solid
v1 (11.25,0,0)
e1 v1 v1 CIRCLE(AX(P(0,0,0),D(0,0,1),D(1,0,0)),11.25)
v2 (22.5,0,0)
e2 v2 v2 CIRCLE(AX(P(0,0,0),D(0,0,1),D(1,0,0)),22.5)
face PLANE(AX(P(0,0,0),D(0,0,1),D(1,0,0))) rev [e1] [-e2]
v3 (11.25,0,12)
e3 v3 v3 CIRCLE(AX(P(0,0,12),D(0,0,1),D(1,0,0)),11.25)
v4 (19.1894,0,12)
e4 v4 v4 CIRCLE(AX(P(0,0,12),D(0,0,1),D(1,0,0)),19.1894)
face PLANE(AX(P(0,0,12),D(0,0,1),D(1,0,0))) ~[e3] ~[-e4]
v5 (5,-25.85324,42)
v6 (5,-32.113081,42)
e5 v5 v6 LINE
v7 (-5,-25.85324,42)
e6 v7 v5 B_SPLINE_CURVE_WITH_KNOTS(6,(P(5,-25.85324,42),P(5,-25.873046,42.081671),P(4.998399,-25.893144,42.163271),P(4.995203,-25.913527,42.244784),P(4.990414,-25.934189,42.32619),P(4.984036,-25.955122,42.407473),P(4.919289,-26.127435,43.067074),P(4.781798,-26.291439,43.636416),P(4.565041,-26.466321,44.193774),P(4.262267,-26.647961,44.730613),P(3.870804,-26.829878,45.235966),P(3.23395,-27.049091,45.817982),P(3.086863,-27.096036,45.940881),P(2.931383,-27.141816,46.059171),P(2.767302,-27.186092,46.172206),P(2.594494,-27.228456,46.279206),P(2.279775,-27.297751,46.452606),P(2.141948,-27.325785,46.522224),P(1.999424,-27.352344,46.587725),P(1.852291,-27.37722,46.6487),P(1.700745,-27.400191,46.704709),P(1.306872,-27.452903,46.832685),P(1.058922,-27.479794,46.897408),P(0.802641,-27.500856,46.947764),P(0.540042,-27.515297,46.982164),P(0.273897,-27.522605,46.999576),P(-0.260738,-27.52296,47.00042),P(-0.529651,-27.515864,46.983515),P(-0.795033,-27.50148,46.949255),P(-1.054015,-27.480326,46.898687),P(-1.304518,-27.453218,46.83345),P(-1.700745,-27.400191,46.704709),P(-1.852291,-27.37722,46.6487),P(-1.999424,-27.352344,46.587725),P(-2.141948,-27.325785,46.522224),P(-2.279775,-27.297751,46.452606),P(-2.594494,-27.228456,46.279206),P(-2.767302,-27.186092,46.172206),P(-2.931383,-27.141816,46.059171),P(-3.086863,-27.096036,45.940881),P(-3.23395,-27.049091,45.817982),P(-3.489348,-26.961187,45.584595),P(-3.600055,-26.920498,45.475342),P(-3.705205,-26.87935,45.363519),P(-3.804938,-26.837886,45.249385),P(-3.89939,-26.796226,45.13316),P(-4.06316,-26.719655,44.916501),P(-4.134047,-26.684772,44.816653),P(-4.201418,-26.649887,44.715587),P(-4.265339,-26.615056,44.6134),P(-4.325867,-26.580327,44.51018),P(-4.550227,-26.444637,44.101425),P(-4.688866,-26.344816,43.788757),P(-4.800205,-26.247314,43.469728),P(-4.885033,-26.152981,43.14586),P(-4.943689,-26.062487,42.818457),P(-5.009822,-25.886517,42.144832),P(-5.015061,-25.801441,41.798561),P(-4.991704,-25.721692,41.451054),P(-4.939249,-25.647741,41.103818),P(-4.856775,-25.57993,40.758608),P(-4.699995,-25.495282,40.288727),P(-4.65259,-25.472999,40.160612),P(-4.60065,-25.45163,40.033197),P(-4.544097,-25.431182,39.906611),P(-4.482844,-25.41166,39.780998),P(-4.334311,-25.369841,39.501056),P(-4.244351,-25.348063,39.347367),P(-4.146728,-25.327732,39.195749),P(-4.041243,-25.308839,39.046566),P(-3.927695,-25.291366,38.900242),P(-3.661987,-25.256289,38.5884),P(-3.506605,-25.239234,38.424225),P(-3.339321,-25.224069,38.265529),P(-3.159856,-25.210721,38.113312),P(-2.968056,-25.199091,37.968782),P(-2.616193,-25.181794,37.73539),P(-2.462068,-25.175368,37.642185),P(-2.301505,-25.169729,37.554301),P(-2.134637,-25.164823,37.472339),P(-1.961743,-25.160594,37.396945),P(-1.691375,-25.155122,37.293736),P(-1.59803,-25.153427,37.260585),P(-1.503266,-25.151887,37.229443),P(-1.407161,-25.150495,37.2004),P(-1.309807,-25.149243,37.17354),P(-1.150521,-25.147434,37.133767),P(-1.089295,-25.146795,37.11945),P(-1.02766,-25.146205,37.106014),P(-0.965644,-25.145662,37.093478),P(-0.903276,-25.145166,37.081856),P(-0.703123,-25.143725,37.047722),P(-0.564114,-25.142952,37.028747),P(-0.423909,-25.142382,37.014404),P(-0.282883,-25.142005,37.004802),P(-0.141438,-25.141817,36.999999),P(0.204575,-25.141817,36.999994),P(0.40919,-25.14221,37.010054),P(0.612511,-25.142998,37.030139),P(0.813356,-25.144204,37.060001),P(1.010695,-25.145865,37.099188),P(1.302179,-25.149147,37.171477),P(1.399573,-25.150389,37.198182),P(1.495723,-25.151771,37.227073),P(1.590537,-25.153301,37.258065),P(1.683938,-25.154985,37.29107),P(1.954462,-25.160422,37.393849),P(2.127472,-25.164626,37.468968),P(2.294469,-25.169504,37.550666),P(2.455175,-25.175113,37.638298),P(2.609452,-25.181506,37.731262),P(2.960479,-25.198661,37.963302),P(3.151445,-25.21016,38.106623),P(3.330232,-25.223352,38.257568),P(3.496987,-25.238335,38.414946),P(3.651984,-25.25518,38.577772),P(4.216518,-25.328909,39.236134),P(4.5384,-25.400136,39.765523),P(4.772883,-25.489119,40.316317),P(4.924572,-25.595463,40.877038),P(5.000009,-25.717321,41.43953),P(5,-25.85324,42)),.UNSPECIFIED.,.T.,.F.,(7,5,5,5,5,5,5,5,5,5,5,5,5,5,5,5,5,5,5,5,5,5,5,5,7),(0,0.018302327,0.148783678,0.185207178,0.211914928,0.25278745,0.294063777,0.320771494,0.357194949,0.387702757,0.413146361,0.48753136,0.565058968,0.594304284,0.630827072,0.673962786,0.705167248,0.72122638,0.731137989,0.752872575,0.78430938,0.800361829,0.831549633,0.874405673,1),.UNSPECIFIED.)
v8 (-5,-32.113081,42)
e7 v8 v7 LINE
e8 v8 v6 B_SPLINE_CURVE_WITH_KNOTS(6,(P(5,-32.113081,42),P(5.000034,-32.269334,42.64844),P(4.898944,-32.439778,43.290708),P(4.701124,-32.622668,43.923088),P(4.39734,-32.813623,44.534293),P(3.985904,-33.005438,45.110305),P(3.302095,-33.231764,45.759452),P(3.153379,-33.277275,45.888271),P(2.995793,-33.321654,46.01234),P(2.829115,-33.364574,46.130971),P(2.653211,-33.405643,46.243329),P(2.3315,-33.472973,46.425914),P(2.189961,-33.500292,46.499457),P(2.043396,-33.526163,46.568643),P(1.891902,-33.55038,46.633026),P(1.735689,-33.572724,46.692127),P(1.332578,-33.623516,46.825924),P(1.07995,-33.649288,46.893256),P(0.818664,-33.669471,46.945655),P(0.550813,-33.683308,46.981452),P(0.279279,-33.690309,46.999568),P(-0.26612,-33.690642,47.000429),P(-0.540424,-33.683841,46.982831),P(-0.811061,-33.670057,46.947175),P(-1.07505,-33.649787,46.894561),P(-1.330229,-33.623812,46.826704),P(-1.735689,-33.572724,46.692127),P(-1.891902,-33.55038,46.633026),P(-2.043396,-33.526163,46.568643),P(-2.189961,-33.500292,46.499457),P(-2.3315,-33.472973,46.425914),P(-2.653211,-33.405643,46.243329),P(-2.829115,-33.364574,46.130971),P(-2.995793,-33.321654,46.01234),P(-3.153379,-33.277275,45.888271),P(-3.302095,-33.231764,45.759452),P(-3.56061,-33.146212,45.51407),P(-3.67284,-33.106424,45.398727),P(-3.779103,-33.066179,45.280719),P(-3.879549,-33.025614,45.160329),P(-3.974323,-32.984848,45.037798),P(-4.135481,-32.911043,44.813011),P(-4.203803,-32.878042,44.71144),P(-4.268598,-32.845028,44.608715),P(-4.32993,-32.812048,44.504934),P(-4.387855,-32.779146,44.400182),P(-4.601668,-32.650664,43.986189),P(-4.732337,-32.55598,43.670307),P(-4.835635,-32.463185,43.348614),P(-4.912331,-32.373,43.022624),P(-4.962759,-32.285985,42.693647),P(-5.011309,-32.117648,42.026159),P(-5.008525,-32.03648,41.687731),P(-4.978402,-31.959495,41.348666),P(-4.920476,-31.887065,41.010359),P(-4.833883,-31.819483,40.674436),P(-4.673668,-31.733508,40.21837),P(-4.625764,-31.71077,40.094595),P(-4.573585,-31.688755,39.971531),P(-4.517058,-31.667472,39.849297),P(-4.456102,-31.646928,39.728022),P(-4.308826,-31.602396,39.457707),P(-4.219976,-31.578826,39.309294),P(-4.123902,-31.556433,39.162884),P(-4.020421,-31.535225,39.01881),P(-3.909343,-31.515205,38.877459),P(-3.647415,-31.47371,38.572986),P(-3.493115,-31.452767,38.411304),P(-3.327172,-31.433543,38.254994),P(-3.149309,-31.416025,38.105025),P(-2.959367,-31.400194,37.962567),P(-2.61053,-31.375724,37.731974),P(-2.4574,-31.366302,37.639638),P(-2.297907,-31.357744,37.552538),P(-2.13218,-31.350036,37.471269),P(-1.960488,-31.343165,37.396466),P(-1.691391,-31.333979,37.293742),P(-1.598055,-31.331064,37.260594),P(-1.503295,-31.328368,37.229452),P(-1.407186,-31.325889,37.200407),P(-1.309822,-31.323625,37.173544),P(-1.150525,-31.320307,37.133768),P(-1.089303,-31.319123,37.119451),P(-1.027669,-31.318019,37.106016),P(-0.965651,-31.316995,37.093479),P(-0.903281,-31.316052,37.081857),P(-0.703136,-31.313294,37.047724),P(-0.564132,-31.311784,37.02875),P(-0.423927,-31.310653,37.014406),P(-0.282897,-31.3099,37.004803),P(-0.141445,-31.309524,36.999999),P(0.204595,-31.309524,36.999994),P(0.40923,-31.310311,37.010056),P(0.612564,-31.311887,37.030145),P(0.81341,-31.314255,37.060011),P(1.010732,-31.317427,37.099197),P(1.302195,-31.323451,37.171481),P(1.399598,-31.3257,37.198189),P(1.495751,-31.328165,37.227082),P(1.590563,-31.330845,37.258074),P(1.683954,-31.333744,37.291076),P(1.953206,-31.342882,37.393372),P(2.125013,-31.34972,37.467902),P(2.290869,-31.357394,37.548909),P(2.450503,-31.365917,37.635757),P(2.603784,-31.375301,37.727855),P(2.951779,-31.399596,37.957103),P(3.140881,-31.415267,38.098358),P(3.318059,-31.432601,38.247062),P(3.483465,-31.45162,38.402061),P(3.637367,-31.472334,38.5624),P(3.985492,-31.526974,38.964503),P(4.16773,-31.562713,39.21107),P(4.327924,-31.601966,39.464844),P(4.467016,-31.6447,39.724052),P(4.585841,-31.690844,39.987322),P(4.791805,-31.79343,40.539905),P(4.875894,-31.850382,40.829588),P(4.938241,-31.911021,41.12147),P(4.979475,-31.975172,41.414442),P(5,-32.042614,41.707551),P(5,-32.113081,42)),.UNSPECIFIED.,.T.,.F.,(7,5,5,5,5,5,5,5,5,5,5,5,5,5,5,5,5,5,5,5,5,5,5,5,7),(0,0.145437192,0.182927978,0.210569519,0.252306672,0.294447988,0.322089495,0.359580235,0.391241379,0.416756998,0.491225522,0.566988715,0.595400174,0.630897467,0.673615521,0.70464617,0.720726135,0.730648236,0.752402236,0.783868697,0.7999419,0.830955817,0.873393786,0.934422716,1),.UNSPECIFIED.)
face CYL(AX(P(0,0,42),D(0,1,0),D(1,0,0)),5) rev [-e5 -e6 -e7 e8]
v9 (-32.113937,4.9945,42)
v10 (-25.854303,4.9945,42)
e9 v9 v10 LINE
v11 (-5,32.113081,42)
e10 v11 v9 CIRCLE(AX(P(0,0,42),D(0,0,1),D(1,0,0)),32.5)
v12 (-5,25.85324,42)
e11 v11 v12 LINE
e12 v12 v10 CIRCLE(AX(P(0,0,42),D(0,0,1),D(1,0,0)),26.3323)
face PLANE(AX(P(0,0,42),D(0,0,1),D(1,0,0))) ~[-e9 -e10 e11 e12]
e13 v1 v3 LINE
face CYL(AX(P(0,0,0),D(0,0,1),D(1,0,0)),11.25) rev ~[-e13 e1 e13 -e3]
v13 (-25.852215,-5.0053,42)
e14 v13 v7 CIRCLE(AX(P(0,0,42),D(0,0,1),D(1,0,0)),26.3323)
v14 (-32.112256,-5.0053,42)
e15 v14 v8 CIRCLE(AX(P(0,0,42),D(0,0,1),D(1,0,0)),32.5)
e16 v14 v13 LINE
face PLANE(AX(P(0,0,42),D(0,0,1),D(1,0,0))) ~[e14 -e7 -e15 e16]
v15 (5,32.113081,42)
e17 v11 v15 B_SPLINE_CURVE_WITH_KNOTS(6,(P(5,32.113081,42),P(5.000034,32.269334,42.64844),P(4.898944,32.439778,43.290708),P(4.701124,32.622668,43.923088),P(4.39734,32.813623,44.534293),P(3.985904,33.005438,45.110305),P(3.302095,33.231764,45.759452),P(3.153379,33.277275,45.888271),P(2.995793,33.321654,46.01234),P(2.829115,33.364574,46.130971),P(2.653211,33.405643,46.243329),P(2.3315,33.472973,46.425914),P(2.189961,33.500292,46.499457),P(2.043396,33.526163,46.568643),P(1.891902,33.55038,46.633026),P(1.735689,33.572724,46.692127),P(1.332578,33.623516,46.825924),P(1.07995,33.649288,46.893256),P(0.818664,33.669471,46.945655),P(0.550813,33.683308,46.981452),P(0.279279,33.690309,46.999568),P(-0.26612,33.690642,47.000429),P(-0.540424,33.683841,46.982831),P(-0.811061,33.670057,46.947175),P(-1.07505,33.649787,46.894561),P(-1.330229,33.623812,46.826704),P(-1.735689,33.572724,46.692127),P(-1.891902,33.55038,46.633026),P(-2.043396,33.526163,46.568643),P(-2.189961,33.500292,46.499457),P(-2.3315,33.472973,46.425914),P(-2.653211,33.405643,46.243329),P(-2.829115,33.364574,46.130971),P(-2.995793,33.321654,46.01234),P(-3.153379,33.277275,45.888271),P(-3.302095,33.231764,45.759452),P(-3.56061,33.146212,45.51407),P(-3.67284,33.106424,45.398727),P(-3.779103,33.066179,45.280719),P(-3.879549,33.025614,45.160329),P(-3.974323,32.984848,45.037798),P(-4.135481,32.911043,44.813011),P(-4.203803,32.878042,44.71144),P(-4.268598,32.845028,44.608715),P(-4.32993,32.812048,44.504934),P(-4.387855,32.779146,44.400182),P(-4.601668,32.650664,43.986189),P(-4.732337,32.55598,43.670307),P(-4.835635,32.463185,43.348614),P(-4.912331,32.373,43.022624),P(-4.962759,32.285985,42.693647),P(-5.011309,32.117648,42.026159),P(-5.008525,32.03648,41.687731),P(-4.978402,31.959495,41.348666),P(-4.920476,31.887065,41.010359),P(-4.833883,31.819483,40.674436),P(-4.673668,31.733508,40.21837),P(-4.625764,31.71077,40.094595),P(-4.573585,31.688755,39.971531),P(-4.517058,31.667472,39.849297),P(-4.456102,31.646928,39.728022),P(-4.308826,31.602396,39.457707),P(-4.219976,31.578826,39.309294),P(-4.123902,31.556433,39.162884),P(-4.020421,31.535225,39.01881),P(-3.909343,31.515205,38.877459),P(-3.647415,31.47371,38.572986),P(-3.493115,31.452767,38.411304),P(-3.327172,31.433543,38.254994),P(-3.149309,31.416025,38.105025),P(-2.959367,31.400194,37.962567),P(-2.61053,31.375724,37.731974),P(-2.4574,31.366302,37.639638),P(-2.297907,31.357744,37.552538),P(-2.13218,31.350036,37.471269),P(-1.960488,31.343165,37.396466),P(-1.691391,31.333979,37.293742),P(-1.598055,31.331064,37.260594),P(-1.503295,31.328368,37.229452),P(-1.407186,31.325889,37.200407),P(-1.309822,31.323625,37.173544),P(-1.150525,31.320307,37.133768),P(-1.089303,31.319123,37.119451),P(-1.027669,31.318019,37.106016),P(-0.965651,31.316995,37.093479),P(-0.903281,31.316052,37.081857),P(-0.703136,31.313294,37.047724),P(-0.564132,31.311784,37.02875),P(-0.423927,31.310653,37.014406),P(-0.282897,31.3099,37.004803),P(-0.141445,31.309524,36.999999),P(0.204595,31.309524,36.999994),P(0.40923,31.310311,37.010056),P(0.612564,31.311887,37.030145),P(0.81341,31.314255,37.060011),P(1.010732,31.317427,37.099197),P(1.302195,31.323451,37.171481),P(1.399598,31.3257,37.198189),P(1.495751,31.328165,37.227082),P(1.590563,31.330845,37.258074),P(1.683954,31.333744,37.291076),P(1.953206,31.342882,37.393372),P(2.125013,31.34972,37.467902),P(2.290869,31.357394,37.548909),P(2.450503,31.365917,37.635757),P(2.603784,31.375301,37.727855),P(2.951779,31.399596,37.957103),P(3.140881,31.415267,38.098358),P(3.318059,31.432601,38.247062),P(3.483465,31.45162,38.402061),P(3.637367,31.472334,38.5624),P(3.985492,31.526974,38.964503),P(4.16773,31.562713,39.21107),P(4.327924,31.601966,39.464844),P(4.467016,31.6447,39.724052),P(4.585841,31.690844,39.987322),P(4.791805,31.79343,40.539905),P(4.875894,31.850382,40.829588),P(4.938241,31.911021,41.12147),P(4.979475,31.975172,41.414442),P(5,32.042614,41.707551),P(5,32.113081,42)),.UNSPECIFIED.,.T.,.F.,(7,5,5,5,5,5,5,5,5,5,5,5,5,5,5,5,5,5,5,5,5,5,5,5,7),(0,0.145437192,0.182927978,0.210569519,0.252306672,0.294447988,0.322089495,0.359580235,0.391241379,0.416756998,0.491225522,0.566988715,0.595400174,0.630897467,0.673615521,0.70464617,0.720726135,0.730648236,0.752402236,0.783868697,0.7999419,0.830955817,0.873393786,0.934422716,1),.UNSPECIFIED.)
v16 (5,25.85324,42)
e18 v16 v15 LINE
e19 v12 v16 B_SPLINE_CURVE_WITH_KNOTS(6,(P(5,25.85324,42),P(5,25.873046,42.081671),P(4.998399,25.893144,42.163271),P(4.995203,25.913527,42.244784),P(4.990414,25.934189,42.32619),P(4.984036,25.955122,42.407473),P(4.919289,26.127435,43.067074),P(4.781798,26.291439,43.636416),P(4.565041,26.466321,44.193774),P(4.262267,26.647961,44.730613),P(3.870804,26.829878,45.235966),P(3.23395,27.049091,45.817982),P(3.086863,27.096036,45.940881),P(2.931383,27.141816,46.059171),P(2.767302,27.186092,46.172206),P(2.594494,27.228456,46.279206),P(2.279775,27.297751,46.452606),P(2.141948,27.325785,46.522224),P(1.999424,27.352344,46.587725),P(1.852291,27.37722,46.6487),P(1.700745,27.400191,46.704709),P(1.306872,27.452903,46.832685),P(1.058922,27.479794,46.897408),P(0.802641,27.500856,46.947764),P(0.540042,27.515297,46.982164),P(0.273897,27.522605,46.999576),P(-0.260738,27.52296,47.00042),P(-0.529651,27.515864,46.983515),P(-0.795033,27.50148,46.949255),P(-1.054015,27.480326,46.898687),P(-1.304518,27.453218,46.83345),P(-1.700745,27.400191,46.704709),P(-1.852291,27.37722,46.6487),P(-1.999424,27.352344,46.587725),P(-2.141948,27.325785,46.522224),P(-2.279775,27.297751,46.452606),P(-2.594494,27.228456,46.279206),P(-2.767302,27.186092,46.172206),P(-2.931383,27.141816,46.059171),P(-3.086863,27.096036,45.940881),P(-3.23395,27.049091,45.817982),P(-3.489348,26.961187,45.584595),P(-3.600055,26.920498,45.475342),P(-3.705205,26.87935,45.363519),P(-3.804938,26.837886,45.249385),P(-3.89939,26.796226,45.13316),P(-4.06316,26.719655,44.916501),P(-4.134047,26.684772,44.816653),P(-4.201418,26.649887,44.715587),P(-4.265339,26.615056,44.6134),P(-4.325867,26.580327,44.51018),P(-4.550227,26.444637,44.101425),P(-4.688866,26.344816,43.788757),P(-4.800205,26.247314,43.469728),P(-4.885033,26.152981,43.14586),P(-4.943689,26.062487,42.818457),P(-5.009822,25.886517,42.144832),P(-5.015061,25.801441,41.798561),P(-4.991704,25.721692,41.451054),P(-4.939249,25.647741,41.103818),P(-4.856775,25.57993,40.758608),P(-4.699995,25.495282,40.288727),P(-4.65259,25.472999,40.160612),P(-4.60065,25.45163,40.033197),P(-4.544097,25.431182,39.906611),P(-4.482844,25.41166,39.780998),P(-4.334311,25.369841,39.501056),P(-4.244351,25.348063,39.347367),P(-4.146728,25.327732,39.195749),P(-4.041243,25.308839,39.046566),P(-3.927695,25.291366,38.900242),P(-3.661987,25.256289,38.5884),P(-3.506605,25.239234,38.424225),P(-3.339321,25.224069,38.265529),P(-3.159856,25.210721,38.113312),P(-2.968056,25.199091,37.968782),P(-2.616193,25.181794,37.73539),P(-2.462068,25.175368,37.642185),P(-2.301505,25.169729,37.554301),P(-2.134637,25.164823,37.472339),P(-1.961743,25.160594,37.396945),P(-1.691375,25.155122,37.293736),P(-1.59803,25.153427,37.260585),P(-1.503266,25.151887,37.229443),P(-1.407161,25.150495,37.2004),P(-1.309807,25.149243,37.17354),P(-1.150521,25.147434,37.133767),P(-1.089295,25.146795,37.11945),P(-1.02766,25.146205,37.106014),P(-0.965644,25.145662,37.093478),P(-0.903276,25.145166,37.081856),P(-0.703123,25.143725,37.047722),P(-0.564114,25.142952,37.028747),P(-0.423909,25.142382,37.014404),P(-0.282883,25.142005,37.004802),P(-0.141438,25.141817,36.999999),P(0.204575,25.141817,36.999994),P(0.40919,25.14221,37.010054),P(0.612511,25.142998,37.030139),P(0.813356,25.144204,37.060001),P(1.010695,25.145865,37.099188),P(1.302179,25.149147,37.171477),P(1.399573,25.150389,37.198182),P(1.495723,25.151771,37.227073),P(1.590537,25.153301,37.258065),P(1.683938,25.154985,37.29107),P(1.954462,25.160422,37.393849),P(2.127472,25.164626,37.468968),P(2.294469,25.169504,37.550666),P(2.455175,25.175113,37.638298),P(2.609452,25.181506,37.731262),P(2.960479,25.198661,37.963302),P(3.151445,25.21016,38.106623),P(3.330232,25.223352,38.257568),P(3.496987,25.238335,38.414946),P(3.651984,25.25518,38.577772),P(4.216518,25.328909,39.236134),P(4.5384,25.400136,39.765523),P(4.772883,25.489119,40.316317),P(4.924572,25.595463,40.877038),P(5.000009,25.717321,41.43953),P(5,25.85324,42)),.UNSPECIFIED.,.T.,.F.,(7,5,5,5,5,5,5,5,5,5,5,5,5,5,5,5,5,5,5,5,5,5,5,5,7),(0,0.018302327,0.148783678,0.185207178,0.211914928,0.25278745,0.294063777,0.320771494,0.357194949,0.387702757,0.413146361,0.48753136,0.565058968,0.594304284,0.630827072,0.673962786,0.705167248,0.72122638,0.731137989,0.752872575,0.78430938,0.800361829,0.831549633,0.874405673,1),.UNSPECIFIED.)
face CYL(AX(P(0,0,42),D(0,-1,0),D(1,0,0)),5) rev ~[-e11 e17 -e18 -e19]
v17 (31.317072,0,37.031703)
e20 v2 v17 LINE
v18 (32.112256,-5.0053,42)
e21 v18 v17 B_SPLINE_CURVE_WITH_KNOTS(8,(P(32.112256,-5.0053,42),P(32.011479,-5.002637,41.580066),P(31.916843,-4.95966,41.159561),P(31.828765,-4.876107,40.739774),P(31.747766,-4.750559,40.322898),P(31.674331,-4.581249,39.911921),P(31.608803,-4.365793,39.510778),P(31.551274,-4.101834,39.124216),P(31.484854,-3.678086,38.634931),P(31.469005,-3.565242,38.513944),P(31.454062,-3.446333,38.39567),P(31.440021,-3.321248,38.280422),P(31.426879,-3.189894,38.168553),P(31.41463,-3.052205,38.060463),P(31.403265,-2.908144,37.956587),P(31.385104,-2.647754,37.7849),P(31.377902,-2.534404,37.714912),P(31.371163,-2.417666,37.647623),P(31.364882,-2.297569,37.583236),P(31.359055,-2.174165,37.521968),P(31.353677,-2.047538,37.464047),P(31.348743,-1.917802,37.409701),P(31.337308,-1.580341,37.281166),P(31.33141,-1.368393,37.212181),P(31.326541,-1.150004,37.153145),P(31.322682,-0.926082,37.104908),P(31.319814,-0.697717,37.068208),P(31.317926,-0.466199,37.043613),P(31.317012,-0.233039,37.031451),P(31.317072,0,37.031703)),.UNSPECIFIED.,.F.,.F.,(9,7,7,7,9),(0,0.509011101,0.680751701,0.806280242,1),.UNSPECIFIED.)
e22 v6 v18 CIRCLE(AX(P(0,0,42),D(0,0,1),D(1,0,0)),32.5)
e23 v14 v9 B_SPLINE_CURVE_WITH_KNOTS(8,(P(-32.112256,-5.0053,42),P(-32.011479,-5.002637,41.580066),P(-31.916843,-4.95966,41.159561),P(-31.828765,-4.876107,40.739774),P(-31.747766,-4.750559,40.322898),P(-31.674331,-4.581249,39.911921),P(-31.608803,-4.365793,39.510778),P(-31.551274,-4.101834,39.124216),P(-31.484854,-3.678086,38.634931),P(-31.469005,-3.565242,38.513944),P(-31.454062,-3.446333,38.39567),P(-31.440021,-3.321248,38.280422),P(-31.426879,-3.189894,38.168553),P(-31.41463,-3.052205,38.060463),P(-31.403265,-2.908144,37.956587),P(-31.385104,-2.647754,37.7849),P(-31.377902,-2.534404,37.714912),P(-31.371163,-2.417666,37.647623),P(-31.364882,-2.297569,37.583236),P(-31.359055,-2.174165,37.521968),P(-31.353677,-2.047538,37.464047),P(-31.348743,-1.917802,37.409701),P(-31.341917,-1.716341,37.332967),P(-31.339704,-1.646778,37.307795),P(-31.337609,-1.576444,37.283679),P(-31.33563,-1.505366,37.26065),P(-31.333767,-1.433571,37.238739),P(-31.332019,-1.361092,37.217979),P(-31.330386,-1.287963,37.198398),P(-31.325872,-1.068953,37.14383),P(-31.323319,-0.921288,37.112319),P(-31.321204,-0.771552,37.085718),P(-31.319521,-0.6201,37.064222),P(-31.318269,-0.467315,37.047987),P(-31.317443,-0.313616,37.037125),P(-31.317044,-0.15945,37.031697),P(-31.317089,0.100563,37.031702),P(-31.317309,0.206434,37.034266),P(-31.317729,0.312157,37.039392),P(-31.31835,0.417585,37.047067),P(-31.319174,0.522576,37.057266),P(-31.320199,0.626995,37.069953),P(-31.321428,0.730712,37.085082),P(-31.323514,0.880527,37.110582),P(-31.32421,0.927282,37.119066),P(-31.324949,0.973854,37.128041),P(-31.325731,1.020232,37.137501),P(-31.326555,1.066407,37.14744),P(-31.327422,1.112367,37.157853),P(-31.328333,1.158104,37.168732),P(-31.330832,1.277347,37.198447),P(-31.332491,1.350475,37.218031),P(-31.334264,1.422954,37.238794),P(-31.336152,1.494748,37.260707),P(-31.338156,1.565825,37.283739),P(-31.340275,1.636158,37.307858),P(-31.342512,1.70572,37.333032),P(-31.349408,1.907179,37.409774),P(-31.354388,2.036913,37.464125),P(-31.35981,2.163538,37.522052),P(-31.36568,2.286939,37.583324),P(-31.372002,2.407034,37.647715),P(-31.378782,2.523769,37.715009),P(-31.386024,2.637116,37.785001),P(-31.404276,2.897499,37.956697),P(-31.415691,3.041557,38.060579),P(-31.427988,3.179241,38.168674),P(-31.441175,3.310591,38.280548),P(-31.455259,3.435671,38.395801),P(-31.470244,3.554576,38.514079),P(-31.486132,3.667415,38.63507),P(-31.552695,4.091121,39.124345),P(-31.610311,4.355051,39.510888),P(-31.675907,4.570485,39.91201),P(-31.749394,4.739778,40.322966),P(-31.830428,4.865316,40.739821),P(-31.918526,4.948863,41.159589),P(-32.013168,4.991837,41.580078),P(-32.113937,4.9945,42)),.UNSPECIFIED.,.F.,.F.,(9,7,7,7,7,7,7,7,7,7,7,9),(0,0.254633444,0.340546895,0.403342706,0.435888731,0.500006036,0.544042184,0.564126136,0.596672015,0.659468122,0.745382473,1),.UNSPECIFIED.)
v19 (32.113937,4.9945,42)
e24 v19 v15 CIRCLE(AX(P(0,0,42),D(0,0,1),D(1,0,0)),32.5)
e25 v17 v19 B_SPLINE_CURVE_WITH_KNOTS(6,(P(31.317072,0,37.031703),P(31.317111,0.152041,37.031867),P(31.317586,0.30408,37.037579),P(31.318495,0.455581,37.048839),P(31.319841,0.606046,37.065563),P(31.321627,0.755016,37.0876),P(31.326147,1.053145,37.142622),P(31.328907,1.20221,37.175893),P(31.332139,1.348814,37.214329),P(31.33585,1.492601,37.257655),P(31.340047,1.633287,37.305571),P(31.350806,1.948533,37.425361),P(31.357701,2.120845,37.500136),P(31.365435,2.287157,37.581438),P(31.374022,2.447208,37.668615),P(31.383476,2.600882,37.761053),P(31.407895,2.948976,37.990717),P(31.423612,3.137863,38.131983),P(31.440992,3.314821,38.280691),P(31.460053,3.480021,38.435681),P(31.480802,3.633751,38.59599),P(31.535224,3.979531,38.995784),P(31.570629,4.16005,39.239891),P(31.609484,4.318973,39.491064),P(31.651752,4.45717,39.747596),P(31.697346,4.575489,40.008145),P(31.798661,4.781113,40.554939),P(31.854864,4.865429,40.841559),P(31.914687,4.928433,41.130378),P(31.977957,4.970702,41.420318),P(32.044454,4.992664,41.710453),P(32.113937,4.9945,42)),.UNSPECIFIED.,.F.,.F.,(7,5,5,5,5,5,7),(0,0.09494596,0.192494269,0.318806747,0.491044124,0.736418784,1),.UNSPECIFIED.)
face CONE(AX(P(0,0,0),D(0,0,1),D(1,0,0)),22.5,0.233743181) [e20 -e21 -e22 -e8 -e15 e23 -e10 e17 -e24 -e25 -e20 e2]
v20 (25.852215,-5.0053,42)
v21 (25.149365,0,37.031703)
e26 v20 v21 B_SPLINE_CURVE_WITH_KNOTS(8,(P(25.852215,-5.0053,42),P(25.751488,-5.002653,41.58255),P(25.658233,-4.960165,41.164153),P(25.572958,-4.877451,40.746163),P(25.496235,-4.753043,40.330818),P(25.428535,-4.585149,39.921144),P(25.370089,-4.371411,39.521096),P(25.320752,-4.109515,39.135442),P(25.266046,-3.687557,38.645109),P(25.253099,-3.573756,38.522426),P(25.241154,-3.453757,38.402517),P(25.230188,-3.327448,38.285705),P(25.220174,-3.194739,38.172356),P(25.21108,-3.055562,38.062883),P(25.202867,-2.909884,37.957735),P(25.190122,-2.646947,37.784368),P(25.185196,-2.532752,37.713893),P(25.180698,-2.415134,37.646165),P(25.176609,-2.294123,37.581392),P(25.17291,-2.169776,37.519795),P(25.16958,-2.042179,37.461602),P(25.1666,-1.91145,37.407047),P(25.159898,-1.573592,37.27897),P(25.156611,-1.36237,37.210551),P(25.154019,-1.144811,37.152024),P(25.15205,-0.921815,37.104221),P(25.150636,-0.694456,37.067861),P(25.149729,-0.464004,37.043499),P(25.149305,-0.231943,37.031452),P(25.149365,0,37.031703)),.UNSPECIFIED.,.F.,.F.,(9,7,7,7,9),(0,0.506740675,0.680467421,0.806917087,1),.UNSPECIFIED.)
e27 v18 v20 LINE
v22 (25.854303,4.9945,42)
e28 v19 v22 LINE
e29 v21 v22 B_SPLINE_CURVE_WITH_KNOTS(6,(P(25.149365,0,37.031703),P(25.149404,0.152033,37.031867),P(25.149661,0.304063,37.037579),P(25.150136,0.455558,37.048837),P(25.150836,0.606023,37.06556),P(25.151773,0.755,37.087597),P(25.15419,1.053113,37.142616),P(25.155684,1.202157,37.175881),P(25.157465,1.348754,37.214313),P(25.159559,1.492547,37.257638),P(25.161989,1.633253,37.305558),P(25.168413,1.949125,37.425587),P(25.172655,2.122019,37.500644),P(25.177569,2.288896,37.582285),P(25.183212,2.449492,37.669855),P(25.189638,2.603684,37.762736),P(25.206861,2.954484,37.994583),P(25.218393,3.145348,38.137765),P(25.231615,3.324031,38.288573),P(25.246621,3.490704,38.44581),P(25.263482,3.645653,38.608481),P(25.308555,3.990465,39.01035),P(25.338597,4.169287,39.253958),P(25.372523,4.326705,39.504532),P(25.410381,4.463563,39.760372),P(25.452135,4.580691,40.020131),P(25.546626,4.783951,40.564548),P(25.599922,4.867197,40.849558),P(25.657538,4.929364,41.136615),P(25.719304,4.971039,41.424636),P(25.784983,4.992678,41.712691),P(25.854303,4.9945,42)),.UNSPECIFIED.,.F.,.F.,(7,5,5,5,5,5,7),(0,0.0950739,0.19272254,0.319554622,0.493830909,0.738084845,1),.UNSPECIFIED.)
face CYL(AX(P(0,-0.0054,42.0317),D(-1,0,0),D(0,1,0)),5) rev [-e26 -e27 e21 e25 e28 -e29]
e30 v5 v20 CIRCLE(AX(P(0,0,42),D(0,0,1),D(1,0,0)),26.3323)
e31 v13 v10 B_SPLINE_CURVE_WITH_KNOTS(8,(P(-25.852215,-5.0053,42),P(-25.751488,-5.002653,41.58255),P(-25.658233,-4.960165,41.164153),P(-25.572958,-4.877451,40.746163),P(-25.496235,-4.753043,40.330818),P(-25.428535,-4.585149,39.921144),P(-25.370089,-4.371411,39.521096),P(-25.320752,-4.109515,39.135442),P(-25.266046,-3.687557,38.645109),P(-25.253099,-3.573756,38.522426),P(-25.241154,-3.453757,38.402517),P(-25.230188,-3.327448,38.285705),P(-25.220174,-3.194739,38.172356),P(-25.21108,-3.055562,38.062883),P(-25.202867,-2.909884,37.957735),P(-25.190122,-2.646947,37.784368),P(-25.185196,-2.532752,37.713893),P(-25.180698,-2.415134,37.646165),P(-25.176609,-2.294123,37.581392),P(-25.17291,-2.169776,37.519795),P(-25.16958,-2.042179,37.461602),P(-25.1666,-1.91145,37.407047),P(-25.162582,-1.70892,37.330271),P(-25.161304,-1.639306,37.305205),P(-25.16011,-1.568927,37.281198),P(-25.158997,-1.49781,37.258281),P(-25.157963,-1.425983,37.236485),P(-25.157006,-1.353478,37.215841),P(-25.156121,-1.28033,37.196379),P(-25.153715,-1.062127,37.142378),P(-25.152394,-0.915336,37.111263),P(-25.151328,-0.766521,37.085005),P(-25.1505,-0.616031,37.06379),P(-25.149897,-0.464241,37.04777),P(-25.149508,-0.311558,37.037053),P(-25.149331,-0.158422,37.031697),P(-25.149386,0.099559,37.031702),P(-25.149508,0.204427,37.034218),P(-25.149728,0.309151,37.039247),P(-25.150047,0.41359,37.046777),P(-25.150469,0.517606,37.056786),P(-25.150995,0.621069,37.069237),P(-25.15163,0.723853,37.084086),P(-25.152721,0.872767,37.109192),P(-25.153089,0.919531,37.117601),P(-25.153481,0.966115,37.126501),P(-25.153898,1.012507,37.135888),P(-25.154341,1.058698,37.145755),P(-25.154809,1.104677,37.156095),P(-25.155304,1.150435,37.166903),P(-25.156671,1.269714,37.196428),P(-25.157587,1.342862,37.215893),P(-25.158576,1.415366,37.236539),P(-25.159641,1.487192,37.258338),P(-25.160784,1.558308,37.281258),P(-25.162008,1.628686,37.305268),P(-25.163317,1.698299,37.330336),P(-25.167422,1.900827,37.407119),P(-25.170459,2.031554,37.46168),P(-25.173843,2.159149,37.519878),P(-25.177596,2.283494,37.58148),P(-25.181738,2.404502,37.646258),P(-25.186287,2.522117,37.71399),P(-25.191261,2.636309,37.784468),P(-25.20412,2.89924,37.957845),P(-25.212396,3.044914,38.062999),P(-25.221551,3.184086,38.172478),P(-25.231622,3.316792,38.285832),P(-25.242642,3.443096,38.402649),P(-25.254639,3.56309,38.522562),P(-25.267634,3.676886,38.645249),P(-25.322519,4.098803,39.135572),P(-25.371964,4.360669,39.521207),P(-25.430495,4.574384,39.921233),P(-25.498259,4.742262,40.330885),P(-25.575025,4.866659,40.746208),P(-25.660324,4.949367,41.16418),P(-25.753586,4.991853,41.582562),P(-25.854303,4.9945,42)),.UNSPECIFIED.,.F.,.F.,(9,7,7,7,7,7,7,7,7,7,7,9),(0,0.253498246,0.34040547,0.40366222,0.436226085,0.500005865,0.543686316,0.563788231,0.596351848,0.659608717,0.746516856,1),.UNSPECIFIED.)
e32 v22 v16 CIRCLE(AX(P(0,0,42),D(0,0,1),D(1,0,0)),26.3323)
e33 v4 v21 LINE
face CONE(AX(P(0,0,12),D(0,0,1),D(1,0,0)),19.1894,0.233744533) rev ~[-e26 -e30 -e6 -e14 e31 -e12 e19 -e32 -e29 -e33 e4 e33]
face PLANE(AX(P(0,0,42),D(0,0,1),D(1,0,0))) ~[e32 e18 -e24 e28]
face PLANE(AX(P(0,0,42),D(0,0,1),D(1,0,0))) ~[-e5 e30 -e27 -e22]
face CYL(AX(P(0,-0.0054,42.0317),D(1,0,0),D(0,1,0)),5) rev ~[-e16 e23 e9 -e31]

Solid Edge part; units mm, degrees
sketch "Sketch1" plane through (0, 0, 0) normal (0, -1, 0) x (1, 0, 0)
  line L0 (22.5, 0) -> (32.5, 42)
  line L1 (26.3323, 42) -> (32.5, 42)
  line L2 (19.1894, 12) -> (26.3323, 42)
  line L3 (11.25, 12) -> (19.1894, 12)
  line L4 (11.25, 0) -> (11.25, 12)
  line L5 (11.25, 0) -> (22.5, 0)
revolve "RevolvedProtrusion1" add sketch "Sketch1" angle 360 about axis through (0, 0, 0) along (0, 0, 1)
sketch "Sketch2" plane through (0, 0, 0) normal (0, -1, 0) x (1, 0, 0)
  circle A0 centre (0, 42) radius 5
extrude "Cutout1" cut sketch "Sketch2" along normal through all and the other way through all
sketch "Sketch3" plane through (0, 0, 0) normal (1, 0, 0) x (0, 1, 0)
  circle A0 centre (-0.0054, 42.0317) radius 5
extrude "Cutout2" cut sketch "Sketch3" along normal through all and the other way through all
